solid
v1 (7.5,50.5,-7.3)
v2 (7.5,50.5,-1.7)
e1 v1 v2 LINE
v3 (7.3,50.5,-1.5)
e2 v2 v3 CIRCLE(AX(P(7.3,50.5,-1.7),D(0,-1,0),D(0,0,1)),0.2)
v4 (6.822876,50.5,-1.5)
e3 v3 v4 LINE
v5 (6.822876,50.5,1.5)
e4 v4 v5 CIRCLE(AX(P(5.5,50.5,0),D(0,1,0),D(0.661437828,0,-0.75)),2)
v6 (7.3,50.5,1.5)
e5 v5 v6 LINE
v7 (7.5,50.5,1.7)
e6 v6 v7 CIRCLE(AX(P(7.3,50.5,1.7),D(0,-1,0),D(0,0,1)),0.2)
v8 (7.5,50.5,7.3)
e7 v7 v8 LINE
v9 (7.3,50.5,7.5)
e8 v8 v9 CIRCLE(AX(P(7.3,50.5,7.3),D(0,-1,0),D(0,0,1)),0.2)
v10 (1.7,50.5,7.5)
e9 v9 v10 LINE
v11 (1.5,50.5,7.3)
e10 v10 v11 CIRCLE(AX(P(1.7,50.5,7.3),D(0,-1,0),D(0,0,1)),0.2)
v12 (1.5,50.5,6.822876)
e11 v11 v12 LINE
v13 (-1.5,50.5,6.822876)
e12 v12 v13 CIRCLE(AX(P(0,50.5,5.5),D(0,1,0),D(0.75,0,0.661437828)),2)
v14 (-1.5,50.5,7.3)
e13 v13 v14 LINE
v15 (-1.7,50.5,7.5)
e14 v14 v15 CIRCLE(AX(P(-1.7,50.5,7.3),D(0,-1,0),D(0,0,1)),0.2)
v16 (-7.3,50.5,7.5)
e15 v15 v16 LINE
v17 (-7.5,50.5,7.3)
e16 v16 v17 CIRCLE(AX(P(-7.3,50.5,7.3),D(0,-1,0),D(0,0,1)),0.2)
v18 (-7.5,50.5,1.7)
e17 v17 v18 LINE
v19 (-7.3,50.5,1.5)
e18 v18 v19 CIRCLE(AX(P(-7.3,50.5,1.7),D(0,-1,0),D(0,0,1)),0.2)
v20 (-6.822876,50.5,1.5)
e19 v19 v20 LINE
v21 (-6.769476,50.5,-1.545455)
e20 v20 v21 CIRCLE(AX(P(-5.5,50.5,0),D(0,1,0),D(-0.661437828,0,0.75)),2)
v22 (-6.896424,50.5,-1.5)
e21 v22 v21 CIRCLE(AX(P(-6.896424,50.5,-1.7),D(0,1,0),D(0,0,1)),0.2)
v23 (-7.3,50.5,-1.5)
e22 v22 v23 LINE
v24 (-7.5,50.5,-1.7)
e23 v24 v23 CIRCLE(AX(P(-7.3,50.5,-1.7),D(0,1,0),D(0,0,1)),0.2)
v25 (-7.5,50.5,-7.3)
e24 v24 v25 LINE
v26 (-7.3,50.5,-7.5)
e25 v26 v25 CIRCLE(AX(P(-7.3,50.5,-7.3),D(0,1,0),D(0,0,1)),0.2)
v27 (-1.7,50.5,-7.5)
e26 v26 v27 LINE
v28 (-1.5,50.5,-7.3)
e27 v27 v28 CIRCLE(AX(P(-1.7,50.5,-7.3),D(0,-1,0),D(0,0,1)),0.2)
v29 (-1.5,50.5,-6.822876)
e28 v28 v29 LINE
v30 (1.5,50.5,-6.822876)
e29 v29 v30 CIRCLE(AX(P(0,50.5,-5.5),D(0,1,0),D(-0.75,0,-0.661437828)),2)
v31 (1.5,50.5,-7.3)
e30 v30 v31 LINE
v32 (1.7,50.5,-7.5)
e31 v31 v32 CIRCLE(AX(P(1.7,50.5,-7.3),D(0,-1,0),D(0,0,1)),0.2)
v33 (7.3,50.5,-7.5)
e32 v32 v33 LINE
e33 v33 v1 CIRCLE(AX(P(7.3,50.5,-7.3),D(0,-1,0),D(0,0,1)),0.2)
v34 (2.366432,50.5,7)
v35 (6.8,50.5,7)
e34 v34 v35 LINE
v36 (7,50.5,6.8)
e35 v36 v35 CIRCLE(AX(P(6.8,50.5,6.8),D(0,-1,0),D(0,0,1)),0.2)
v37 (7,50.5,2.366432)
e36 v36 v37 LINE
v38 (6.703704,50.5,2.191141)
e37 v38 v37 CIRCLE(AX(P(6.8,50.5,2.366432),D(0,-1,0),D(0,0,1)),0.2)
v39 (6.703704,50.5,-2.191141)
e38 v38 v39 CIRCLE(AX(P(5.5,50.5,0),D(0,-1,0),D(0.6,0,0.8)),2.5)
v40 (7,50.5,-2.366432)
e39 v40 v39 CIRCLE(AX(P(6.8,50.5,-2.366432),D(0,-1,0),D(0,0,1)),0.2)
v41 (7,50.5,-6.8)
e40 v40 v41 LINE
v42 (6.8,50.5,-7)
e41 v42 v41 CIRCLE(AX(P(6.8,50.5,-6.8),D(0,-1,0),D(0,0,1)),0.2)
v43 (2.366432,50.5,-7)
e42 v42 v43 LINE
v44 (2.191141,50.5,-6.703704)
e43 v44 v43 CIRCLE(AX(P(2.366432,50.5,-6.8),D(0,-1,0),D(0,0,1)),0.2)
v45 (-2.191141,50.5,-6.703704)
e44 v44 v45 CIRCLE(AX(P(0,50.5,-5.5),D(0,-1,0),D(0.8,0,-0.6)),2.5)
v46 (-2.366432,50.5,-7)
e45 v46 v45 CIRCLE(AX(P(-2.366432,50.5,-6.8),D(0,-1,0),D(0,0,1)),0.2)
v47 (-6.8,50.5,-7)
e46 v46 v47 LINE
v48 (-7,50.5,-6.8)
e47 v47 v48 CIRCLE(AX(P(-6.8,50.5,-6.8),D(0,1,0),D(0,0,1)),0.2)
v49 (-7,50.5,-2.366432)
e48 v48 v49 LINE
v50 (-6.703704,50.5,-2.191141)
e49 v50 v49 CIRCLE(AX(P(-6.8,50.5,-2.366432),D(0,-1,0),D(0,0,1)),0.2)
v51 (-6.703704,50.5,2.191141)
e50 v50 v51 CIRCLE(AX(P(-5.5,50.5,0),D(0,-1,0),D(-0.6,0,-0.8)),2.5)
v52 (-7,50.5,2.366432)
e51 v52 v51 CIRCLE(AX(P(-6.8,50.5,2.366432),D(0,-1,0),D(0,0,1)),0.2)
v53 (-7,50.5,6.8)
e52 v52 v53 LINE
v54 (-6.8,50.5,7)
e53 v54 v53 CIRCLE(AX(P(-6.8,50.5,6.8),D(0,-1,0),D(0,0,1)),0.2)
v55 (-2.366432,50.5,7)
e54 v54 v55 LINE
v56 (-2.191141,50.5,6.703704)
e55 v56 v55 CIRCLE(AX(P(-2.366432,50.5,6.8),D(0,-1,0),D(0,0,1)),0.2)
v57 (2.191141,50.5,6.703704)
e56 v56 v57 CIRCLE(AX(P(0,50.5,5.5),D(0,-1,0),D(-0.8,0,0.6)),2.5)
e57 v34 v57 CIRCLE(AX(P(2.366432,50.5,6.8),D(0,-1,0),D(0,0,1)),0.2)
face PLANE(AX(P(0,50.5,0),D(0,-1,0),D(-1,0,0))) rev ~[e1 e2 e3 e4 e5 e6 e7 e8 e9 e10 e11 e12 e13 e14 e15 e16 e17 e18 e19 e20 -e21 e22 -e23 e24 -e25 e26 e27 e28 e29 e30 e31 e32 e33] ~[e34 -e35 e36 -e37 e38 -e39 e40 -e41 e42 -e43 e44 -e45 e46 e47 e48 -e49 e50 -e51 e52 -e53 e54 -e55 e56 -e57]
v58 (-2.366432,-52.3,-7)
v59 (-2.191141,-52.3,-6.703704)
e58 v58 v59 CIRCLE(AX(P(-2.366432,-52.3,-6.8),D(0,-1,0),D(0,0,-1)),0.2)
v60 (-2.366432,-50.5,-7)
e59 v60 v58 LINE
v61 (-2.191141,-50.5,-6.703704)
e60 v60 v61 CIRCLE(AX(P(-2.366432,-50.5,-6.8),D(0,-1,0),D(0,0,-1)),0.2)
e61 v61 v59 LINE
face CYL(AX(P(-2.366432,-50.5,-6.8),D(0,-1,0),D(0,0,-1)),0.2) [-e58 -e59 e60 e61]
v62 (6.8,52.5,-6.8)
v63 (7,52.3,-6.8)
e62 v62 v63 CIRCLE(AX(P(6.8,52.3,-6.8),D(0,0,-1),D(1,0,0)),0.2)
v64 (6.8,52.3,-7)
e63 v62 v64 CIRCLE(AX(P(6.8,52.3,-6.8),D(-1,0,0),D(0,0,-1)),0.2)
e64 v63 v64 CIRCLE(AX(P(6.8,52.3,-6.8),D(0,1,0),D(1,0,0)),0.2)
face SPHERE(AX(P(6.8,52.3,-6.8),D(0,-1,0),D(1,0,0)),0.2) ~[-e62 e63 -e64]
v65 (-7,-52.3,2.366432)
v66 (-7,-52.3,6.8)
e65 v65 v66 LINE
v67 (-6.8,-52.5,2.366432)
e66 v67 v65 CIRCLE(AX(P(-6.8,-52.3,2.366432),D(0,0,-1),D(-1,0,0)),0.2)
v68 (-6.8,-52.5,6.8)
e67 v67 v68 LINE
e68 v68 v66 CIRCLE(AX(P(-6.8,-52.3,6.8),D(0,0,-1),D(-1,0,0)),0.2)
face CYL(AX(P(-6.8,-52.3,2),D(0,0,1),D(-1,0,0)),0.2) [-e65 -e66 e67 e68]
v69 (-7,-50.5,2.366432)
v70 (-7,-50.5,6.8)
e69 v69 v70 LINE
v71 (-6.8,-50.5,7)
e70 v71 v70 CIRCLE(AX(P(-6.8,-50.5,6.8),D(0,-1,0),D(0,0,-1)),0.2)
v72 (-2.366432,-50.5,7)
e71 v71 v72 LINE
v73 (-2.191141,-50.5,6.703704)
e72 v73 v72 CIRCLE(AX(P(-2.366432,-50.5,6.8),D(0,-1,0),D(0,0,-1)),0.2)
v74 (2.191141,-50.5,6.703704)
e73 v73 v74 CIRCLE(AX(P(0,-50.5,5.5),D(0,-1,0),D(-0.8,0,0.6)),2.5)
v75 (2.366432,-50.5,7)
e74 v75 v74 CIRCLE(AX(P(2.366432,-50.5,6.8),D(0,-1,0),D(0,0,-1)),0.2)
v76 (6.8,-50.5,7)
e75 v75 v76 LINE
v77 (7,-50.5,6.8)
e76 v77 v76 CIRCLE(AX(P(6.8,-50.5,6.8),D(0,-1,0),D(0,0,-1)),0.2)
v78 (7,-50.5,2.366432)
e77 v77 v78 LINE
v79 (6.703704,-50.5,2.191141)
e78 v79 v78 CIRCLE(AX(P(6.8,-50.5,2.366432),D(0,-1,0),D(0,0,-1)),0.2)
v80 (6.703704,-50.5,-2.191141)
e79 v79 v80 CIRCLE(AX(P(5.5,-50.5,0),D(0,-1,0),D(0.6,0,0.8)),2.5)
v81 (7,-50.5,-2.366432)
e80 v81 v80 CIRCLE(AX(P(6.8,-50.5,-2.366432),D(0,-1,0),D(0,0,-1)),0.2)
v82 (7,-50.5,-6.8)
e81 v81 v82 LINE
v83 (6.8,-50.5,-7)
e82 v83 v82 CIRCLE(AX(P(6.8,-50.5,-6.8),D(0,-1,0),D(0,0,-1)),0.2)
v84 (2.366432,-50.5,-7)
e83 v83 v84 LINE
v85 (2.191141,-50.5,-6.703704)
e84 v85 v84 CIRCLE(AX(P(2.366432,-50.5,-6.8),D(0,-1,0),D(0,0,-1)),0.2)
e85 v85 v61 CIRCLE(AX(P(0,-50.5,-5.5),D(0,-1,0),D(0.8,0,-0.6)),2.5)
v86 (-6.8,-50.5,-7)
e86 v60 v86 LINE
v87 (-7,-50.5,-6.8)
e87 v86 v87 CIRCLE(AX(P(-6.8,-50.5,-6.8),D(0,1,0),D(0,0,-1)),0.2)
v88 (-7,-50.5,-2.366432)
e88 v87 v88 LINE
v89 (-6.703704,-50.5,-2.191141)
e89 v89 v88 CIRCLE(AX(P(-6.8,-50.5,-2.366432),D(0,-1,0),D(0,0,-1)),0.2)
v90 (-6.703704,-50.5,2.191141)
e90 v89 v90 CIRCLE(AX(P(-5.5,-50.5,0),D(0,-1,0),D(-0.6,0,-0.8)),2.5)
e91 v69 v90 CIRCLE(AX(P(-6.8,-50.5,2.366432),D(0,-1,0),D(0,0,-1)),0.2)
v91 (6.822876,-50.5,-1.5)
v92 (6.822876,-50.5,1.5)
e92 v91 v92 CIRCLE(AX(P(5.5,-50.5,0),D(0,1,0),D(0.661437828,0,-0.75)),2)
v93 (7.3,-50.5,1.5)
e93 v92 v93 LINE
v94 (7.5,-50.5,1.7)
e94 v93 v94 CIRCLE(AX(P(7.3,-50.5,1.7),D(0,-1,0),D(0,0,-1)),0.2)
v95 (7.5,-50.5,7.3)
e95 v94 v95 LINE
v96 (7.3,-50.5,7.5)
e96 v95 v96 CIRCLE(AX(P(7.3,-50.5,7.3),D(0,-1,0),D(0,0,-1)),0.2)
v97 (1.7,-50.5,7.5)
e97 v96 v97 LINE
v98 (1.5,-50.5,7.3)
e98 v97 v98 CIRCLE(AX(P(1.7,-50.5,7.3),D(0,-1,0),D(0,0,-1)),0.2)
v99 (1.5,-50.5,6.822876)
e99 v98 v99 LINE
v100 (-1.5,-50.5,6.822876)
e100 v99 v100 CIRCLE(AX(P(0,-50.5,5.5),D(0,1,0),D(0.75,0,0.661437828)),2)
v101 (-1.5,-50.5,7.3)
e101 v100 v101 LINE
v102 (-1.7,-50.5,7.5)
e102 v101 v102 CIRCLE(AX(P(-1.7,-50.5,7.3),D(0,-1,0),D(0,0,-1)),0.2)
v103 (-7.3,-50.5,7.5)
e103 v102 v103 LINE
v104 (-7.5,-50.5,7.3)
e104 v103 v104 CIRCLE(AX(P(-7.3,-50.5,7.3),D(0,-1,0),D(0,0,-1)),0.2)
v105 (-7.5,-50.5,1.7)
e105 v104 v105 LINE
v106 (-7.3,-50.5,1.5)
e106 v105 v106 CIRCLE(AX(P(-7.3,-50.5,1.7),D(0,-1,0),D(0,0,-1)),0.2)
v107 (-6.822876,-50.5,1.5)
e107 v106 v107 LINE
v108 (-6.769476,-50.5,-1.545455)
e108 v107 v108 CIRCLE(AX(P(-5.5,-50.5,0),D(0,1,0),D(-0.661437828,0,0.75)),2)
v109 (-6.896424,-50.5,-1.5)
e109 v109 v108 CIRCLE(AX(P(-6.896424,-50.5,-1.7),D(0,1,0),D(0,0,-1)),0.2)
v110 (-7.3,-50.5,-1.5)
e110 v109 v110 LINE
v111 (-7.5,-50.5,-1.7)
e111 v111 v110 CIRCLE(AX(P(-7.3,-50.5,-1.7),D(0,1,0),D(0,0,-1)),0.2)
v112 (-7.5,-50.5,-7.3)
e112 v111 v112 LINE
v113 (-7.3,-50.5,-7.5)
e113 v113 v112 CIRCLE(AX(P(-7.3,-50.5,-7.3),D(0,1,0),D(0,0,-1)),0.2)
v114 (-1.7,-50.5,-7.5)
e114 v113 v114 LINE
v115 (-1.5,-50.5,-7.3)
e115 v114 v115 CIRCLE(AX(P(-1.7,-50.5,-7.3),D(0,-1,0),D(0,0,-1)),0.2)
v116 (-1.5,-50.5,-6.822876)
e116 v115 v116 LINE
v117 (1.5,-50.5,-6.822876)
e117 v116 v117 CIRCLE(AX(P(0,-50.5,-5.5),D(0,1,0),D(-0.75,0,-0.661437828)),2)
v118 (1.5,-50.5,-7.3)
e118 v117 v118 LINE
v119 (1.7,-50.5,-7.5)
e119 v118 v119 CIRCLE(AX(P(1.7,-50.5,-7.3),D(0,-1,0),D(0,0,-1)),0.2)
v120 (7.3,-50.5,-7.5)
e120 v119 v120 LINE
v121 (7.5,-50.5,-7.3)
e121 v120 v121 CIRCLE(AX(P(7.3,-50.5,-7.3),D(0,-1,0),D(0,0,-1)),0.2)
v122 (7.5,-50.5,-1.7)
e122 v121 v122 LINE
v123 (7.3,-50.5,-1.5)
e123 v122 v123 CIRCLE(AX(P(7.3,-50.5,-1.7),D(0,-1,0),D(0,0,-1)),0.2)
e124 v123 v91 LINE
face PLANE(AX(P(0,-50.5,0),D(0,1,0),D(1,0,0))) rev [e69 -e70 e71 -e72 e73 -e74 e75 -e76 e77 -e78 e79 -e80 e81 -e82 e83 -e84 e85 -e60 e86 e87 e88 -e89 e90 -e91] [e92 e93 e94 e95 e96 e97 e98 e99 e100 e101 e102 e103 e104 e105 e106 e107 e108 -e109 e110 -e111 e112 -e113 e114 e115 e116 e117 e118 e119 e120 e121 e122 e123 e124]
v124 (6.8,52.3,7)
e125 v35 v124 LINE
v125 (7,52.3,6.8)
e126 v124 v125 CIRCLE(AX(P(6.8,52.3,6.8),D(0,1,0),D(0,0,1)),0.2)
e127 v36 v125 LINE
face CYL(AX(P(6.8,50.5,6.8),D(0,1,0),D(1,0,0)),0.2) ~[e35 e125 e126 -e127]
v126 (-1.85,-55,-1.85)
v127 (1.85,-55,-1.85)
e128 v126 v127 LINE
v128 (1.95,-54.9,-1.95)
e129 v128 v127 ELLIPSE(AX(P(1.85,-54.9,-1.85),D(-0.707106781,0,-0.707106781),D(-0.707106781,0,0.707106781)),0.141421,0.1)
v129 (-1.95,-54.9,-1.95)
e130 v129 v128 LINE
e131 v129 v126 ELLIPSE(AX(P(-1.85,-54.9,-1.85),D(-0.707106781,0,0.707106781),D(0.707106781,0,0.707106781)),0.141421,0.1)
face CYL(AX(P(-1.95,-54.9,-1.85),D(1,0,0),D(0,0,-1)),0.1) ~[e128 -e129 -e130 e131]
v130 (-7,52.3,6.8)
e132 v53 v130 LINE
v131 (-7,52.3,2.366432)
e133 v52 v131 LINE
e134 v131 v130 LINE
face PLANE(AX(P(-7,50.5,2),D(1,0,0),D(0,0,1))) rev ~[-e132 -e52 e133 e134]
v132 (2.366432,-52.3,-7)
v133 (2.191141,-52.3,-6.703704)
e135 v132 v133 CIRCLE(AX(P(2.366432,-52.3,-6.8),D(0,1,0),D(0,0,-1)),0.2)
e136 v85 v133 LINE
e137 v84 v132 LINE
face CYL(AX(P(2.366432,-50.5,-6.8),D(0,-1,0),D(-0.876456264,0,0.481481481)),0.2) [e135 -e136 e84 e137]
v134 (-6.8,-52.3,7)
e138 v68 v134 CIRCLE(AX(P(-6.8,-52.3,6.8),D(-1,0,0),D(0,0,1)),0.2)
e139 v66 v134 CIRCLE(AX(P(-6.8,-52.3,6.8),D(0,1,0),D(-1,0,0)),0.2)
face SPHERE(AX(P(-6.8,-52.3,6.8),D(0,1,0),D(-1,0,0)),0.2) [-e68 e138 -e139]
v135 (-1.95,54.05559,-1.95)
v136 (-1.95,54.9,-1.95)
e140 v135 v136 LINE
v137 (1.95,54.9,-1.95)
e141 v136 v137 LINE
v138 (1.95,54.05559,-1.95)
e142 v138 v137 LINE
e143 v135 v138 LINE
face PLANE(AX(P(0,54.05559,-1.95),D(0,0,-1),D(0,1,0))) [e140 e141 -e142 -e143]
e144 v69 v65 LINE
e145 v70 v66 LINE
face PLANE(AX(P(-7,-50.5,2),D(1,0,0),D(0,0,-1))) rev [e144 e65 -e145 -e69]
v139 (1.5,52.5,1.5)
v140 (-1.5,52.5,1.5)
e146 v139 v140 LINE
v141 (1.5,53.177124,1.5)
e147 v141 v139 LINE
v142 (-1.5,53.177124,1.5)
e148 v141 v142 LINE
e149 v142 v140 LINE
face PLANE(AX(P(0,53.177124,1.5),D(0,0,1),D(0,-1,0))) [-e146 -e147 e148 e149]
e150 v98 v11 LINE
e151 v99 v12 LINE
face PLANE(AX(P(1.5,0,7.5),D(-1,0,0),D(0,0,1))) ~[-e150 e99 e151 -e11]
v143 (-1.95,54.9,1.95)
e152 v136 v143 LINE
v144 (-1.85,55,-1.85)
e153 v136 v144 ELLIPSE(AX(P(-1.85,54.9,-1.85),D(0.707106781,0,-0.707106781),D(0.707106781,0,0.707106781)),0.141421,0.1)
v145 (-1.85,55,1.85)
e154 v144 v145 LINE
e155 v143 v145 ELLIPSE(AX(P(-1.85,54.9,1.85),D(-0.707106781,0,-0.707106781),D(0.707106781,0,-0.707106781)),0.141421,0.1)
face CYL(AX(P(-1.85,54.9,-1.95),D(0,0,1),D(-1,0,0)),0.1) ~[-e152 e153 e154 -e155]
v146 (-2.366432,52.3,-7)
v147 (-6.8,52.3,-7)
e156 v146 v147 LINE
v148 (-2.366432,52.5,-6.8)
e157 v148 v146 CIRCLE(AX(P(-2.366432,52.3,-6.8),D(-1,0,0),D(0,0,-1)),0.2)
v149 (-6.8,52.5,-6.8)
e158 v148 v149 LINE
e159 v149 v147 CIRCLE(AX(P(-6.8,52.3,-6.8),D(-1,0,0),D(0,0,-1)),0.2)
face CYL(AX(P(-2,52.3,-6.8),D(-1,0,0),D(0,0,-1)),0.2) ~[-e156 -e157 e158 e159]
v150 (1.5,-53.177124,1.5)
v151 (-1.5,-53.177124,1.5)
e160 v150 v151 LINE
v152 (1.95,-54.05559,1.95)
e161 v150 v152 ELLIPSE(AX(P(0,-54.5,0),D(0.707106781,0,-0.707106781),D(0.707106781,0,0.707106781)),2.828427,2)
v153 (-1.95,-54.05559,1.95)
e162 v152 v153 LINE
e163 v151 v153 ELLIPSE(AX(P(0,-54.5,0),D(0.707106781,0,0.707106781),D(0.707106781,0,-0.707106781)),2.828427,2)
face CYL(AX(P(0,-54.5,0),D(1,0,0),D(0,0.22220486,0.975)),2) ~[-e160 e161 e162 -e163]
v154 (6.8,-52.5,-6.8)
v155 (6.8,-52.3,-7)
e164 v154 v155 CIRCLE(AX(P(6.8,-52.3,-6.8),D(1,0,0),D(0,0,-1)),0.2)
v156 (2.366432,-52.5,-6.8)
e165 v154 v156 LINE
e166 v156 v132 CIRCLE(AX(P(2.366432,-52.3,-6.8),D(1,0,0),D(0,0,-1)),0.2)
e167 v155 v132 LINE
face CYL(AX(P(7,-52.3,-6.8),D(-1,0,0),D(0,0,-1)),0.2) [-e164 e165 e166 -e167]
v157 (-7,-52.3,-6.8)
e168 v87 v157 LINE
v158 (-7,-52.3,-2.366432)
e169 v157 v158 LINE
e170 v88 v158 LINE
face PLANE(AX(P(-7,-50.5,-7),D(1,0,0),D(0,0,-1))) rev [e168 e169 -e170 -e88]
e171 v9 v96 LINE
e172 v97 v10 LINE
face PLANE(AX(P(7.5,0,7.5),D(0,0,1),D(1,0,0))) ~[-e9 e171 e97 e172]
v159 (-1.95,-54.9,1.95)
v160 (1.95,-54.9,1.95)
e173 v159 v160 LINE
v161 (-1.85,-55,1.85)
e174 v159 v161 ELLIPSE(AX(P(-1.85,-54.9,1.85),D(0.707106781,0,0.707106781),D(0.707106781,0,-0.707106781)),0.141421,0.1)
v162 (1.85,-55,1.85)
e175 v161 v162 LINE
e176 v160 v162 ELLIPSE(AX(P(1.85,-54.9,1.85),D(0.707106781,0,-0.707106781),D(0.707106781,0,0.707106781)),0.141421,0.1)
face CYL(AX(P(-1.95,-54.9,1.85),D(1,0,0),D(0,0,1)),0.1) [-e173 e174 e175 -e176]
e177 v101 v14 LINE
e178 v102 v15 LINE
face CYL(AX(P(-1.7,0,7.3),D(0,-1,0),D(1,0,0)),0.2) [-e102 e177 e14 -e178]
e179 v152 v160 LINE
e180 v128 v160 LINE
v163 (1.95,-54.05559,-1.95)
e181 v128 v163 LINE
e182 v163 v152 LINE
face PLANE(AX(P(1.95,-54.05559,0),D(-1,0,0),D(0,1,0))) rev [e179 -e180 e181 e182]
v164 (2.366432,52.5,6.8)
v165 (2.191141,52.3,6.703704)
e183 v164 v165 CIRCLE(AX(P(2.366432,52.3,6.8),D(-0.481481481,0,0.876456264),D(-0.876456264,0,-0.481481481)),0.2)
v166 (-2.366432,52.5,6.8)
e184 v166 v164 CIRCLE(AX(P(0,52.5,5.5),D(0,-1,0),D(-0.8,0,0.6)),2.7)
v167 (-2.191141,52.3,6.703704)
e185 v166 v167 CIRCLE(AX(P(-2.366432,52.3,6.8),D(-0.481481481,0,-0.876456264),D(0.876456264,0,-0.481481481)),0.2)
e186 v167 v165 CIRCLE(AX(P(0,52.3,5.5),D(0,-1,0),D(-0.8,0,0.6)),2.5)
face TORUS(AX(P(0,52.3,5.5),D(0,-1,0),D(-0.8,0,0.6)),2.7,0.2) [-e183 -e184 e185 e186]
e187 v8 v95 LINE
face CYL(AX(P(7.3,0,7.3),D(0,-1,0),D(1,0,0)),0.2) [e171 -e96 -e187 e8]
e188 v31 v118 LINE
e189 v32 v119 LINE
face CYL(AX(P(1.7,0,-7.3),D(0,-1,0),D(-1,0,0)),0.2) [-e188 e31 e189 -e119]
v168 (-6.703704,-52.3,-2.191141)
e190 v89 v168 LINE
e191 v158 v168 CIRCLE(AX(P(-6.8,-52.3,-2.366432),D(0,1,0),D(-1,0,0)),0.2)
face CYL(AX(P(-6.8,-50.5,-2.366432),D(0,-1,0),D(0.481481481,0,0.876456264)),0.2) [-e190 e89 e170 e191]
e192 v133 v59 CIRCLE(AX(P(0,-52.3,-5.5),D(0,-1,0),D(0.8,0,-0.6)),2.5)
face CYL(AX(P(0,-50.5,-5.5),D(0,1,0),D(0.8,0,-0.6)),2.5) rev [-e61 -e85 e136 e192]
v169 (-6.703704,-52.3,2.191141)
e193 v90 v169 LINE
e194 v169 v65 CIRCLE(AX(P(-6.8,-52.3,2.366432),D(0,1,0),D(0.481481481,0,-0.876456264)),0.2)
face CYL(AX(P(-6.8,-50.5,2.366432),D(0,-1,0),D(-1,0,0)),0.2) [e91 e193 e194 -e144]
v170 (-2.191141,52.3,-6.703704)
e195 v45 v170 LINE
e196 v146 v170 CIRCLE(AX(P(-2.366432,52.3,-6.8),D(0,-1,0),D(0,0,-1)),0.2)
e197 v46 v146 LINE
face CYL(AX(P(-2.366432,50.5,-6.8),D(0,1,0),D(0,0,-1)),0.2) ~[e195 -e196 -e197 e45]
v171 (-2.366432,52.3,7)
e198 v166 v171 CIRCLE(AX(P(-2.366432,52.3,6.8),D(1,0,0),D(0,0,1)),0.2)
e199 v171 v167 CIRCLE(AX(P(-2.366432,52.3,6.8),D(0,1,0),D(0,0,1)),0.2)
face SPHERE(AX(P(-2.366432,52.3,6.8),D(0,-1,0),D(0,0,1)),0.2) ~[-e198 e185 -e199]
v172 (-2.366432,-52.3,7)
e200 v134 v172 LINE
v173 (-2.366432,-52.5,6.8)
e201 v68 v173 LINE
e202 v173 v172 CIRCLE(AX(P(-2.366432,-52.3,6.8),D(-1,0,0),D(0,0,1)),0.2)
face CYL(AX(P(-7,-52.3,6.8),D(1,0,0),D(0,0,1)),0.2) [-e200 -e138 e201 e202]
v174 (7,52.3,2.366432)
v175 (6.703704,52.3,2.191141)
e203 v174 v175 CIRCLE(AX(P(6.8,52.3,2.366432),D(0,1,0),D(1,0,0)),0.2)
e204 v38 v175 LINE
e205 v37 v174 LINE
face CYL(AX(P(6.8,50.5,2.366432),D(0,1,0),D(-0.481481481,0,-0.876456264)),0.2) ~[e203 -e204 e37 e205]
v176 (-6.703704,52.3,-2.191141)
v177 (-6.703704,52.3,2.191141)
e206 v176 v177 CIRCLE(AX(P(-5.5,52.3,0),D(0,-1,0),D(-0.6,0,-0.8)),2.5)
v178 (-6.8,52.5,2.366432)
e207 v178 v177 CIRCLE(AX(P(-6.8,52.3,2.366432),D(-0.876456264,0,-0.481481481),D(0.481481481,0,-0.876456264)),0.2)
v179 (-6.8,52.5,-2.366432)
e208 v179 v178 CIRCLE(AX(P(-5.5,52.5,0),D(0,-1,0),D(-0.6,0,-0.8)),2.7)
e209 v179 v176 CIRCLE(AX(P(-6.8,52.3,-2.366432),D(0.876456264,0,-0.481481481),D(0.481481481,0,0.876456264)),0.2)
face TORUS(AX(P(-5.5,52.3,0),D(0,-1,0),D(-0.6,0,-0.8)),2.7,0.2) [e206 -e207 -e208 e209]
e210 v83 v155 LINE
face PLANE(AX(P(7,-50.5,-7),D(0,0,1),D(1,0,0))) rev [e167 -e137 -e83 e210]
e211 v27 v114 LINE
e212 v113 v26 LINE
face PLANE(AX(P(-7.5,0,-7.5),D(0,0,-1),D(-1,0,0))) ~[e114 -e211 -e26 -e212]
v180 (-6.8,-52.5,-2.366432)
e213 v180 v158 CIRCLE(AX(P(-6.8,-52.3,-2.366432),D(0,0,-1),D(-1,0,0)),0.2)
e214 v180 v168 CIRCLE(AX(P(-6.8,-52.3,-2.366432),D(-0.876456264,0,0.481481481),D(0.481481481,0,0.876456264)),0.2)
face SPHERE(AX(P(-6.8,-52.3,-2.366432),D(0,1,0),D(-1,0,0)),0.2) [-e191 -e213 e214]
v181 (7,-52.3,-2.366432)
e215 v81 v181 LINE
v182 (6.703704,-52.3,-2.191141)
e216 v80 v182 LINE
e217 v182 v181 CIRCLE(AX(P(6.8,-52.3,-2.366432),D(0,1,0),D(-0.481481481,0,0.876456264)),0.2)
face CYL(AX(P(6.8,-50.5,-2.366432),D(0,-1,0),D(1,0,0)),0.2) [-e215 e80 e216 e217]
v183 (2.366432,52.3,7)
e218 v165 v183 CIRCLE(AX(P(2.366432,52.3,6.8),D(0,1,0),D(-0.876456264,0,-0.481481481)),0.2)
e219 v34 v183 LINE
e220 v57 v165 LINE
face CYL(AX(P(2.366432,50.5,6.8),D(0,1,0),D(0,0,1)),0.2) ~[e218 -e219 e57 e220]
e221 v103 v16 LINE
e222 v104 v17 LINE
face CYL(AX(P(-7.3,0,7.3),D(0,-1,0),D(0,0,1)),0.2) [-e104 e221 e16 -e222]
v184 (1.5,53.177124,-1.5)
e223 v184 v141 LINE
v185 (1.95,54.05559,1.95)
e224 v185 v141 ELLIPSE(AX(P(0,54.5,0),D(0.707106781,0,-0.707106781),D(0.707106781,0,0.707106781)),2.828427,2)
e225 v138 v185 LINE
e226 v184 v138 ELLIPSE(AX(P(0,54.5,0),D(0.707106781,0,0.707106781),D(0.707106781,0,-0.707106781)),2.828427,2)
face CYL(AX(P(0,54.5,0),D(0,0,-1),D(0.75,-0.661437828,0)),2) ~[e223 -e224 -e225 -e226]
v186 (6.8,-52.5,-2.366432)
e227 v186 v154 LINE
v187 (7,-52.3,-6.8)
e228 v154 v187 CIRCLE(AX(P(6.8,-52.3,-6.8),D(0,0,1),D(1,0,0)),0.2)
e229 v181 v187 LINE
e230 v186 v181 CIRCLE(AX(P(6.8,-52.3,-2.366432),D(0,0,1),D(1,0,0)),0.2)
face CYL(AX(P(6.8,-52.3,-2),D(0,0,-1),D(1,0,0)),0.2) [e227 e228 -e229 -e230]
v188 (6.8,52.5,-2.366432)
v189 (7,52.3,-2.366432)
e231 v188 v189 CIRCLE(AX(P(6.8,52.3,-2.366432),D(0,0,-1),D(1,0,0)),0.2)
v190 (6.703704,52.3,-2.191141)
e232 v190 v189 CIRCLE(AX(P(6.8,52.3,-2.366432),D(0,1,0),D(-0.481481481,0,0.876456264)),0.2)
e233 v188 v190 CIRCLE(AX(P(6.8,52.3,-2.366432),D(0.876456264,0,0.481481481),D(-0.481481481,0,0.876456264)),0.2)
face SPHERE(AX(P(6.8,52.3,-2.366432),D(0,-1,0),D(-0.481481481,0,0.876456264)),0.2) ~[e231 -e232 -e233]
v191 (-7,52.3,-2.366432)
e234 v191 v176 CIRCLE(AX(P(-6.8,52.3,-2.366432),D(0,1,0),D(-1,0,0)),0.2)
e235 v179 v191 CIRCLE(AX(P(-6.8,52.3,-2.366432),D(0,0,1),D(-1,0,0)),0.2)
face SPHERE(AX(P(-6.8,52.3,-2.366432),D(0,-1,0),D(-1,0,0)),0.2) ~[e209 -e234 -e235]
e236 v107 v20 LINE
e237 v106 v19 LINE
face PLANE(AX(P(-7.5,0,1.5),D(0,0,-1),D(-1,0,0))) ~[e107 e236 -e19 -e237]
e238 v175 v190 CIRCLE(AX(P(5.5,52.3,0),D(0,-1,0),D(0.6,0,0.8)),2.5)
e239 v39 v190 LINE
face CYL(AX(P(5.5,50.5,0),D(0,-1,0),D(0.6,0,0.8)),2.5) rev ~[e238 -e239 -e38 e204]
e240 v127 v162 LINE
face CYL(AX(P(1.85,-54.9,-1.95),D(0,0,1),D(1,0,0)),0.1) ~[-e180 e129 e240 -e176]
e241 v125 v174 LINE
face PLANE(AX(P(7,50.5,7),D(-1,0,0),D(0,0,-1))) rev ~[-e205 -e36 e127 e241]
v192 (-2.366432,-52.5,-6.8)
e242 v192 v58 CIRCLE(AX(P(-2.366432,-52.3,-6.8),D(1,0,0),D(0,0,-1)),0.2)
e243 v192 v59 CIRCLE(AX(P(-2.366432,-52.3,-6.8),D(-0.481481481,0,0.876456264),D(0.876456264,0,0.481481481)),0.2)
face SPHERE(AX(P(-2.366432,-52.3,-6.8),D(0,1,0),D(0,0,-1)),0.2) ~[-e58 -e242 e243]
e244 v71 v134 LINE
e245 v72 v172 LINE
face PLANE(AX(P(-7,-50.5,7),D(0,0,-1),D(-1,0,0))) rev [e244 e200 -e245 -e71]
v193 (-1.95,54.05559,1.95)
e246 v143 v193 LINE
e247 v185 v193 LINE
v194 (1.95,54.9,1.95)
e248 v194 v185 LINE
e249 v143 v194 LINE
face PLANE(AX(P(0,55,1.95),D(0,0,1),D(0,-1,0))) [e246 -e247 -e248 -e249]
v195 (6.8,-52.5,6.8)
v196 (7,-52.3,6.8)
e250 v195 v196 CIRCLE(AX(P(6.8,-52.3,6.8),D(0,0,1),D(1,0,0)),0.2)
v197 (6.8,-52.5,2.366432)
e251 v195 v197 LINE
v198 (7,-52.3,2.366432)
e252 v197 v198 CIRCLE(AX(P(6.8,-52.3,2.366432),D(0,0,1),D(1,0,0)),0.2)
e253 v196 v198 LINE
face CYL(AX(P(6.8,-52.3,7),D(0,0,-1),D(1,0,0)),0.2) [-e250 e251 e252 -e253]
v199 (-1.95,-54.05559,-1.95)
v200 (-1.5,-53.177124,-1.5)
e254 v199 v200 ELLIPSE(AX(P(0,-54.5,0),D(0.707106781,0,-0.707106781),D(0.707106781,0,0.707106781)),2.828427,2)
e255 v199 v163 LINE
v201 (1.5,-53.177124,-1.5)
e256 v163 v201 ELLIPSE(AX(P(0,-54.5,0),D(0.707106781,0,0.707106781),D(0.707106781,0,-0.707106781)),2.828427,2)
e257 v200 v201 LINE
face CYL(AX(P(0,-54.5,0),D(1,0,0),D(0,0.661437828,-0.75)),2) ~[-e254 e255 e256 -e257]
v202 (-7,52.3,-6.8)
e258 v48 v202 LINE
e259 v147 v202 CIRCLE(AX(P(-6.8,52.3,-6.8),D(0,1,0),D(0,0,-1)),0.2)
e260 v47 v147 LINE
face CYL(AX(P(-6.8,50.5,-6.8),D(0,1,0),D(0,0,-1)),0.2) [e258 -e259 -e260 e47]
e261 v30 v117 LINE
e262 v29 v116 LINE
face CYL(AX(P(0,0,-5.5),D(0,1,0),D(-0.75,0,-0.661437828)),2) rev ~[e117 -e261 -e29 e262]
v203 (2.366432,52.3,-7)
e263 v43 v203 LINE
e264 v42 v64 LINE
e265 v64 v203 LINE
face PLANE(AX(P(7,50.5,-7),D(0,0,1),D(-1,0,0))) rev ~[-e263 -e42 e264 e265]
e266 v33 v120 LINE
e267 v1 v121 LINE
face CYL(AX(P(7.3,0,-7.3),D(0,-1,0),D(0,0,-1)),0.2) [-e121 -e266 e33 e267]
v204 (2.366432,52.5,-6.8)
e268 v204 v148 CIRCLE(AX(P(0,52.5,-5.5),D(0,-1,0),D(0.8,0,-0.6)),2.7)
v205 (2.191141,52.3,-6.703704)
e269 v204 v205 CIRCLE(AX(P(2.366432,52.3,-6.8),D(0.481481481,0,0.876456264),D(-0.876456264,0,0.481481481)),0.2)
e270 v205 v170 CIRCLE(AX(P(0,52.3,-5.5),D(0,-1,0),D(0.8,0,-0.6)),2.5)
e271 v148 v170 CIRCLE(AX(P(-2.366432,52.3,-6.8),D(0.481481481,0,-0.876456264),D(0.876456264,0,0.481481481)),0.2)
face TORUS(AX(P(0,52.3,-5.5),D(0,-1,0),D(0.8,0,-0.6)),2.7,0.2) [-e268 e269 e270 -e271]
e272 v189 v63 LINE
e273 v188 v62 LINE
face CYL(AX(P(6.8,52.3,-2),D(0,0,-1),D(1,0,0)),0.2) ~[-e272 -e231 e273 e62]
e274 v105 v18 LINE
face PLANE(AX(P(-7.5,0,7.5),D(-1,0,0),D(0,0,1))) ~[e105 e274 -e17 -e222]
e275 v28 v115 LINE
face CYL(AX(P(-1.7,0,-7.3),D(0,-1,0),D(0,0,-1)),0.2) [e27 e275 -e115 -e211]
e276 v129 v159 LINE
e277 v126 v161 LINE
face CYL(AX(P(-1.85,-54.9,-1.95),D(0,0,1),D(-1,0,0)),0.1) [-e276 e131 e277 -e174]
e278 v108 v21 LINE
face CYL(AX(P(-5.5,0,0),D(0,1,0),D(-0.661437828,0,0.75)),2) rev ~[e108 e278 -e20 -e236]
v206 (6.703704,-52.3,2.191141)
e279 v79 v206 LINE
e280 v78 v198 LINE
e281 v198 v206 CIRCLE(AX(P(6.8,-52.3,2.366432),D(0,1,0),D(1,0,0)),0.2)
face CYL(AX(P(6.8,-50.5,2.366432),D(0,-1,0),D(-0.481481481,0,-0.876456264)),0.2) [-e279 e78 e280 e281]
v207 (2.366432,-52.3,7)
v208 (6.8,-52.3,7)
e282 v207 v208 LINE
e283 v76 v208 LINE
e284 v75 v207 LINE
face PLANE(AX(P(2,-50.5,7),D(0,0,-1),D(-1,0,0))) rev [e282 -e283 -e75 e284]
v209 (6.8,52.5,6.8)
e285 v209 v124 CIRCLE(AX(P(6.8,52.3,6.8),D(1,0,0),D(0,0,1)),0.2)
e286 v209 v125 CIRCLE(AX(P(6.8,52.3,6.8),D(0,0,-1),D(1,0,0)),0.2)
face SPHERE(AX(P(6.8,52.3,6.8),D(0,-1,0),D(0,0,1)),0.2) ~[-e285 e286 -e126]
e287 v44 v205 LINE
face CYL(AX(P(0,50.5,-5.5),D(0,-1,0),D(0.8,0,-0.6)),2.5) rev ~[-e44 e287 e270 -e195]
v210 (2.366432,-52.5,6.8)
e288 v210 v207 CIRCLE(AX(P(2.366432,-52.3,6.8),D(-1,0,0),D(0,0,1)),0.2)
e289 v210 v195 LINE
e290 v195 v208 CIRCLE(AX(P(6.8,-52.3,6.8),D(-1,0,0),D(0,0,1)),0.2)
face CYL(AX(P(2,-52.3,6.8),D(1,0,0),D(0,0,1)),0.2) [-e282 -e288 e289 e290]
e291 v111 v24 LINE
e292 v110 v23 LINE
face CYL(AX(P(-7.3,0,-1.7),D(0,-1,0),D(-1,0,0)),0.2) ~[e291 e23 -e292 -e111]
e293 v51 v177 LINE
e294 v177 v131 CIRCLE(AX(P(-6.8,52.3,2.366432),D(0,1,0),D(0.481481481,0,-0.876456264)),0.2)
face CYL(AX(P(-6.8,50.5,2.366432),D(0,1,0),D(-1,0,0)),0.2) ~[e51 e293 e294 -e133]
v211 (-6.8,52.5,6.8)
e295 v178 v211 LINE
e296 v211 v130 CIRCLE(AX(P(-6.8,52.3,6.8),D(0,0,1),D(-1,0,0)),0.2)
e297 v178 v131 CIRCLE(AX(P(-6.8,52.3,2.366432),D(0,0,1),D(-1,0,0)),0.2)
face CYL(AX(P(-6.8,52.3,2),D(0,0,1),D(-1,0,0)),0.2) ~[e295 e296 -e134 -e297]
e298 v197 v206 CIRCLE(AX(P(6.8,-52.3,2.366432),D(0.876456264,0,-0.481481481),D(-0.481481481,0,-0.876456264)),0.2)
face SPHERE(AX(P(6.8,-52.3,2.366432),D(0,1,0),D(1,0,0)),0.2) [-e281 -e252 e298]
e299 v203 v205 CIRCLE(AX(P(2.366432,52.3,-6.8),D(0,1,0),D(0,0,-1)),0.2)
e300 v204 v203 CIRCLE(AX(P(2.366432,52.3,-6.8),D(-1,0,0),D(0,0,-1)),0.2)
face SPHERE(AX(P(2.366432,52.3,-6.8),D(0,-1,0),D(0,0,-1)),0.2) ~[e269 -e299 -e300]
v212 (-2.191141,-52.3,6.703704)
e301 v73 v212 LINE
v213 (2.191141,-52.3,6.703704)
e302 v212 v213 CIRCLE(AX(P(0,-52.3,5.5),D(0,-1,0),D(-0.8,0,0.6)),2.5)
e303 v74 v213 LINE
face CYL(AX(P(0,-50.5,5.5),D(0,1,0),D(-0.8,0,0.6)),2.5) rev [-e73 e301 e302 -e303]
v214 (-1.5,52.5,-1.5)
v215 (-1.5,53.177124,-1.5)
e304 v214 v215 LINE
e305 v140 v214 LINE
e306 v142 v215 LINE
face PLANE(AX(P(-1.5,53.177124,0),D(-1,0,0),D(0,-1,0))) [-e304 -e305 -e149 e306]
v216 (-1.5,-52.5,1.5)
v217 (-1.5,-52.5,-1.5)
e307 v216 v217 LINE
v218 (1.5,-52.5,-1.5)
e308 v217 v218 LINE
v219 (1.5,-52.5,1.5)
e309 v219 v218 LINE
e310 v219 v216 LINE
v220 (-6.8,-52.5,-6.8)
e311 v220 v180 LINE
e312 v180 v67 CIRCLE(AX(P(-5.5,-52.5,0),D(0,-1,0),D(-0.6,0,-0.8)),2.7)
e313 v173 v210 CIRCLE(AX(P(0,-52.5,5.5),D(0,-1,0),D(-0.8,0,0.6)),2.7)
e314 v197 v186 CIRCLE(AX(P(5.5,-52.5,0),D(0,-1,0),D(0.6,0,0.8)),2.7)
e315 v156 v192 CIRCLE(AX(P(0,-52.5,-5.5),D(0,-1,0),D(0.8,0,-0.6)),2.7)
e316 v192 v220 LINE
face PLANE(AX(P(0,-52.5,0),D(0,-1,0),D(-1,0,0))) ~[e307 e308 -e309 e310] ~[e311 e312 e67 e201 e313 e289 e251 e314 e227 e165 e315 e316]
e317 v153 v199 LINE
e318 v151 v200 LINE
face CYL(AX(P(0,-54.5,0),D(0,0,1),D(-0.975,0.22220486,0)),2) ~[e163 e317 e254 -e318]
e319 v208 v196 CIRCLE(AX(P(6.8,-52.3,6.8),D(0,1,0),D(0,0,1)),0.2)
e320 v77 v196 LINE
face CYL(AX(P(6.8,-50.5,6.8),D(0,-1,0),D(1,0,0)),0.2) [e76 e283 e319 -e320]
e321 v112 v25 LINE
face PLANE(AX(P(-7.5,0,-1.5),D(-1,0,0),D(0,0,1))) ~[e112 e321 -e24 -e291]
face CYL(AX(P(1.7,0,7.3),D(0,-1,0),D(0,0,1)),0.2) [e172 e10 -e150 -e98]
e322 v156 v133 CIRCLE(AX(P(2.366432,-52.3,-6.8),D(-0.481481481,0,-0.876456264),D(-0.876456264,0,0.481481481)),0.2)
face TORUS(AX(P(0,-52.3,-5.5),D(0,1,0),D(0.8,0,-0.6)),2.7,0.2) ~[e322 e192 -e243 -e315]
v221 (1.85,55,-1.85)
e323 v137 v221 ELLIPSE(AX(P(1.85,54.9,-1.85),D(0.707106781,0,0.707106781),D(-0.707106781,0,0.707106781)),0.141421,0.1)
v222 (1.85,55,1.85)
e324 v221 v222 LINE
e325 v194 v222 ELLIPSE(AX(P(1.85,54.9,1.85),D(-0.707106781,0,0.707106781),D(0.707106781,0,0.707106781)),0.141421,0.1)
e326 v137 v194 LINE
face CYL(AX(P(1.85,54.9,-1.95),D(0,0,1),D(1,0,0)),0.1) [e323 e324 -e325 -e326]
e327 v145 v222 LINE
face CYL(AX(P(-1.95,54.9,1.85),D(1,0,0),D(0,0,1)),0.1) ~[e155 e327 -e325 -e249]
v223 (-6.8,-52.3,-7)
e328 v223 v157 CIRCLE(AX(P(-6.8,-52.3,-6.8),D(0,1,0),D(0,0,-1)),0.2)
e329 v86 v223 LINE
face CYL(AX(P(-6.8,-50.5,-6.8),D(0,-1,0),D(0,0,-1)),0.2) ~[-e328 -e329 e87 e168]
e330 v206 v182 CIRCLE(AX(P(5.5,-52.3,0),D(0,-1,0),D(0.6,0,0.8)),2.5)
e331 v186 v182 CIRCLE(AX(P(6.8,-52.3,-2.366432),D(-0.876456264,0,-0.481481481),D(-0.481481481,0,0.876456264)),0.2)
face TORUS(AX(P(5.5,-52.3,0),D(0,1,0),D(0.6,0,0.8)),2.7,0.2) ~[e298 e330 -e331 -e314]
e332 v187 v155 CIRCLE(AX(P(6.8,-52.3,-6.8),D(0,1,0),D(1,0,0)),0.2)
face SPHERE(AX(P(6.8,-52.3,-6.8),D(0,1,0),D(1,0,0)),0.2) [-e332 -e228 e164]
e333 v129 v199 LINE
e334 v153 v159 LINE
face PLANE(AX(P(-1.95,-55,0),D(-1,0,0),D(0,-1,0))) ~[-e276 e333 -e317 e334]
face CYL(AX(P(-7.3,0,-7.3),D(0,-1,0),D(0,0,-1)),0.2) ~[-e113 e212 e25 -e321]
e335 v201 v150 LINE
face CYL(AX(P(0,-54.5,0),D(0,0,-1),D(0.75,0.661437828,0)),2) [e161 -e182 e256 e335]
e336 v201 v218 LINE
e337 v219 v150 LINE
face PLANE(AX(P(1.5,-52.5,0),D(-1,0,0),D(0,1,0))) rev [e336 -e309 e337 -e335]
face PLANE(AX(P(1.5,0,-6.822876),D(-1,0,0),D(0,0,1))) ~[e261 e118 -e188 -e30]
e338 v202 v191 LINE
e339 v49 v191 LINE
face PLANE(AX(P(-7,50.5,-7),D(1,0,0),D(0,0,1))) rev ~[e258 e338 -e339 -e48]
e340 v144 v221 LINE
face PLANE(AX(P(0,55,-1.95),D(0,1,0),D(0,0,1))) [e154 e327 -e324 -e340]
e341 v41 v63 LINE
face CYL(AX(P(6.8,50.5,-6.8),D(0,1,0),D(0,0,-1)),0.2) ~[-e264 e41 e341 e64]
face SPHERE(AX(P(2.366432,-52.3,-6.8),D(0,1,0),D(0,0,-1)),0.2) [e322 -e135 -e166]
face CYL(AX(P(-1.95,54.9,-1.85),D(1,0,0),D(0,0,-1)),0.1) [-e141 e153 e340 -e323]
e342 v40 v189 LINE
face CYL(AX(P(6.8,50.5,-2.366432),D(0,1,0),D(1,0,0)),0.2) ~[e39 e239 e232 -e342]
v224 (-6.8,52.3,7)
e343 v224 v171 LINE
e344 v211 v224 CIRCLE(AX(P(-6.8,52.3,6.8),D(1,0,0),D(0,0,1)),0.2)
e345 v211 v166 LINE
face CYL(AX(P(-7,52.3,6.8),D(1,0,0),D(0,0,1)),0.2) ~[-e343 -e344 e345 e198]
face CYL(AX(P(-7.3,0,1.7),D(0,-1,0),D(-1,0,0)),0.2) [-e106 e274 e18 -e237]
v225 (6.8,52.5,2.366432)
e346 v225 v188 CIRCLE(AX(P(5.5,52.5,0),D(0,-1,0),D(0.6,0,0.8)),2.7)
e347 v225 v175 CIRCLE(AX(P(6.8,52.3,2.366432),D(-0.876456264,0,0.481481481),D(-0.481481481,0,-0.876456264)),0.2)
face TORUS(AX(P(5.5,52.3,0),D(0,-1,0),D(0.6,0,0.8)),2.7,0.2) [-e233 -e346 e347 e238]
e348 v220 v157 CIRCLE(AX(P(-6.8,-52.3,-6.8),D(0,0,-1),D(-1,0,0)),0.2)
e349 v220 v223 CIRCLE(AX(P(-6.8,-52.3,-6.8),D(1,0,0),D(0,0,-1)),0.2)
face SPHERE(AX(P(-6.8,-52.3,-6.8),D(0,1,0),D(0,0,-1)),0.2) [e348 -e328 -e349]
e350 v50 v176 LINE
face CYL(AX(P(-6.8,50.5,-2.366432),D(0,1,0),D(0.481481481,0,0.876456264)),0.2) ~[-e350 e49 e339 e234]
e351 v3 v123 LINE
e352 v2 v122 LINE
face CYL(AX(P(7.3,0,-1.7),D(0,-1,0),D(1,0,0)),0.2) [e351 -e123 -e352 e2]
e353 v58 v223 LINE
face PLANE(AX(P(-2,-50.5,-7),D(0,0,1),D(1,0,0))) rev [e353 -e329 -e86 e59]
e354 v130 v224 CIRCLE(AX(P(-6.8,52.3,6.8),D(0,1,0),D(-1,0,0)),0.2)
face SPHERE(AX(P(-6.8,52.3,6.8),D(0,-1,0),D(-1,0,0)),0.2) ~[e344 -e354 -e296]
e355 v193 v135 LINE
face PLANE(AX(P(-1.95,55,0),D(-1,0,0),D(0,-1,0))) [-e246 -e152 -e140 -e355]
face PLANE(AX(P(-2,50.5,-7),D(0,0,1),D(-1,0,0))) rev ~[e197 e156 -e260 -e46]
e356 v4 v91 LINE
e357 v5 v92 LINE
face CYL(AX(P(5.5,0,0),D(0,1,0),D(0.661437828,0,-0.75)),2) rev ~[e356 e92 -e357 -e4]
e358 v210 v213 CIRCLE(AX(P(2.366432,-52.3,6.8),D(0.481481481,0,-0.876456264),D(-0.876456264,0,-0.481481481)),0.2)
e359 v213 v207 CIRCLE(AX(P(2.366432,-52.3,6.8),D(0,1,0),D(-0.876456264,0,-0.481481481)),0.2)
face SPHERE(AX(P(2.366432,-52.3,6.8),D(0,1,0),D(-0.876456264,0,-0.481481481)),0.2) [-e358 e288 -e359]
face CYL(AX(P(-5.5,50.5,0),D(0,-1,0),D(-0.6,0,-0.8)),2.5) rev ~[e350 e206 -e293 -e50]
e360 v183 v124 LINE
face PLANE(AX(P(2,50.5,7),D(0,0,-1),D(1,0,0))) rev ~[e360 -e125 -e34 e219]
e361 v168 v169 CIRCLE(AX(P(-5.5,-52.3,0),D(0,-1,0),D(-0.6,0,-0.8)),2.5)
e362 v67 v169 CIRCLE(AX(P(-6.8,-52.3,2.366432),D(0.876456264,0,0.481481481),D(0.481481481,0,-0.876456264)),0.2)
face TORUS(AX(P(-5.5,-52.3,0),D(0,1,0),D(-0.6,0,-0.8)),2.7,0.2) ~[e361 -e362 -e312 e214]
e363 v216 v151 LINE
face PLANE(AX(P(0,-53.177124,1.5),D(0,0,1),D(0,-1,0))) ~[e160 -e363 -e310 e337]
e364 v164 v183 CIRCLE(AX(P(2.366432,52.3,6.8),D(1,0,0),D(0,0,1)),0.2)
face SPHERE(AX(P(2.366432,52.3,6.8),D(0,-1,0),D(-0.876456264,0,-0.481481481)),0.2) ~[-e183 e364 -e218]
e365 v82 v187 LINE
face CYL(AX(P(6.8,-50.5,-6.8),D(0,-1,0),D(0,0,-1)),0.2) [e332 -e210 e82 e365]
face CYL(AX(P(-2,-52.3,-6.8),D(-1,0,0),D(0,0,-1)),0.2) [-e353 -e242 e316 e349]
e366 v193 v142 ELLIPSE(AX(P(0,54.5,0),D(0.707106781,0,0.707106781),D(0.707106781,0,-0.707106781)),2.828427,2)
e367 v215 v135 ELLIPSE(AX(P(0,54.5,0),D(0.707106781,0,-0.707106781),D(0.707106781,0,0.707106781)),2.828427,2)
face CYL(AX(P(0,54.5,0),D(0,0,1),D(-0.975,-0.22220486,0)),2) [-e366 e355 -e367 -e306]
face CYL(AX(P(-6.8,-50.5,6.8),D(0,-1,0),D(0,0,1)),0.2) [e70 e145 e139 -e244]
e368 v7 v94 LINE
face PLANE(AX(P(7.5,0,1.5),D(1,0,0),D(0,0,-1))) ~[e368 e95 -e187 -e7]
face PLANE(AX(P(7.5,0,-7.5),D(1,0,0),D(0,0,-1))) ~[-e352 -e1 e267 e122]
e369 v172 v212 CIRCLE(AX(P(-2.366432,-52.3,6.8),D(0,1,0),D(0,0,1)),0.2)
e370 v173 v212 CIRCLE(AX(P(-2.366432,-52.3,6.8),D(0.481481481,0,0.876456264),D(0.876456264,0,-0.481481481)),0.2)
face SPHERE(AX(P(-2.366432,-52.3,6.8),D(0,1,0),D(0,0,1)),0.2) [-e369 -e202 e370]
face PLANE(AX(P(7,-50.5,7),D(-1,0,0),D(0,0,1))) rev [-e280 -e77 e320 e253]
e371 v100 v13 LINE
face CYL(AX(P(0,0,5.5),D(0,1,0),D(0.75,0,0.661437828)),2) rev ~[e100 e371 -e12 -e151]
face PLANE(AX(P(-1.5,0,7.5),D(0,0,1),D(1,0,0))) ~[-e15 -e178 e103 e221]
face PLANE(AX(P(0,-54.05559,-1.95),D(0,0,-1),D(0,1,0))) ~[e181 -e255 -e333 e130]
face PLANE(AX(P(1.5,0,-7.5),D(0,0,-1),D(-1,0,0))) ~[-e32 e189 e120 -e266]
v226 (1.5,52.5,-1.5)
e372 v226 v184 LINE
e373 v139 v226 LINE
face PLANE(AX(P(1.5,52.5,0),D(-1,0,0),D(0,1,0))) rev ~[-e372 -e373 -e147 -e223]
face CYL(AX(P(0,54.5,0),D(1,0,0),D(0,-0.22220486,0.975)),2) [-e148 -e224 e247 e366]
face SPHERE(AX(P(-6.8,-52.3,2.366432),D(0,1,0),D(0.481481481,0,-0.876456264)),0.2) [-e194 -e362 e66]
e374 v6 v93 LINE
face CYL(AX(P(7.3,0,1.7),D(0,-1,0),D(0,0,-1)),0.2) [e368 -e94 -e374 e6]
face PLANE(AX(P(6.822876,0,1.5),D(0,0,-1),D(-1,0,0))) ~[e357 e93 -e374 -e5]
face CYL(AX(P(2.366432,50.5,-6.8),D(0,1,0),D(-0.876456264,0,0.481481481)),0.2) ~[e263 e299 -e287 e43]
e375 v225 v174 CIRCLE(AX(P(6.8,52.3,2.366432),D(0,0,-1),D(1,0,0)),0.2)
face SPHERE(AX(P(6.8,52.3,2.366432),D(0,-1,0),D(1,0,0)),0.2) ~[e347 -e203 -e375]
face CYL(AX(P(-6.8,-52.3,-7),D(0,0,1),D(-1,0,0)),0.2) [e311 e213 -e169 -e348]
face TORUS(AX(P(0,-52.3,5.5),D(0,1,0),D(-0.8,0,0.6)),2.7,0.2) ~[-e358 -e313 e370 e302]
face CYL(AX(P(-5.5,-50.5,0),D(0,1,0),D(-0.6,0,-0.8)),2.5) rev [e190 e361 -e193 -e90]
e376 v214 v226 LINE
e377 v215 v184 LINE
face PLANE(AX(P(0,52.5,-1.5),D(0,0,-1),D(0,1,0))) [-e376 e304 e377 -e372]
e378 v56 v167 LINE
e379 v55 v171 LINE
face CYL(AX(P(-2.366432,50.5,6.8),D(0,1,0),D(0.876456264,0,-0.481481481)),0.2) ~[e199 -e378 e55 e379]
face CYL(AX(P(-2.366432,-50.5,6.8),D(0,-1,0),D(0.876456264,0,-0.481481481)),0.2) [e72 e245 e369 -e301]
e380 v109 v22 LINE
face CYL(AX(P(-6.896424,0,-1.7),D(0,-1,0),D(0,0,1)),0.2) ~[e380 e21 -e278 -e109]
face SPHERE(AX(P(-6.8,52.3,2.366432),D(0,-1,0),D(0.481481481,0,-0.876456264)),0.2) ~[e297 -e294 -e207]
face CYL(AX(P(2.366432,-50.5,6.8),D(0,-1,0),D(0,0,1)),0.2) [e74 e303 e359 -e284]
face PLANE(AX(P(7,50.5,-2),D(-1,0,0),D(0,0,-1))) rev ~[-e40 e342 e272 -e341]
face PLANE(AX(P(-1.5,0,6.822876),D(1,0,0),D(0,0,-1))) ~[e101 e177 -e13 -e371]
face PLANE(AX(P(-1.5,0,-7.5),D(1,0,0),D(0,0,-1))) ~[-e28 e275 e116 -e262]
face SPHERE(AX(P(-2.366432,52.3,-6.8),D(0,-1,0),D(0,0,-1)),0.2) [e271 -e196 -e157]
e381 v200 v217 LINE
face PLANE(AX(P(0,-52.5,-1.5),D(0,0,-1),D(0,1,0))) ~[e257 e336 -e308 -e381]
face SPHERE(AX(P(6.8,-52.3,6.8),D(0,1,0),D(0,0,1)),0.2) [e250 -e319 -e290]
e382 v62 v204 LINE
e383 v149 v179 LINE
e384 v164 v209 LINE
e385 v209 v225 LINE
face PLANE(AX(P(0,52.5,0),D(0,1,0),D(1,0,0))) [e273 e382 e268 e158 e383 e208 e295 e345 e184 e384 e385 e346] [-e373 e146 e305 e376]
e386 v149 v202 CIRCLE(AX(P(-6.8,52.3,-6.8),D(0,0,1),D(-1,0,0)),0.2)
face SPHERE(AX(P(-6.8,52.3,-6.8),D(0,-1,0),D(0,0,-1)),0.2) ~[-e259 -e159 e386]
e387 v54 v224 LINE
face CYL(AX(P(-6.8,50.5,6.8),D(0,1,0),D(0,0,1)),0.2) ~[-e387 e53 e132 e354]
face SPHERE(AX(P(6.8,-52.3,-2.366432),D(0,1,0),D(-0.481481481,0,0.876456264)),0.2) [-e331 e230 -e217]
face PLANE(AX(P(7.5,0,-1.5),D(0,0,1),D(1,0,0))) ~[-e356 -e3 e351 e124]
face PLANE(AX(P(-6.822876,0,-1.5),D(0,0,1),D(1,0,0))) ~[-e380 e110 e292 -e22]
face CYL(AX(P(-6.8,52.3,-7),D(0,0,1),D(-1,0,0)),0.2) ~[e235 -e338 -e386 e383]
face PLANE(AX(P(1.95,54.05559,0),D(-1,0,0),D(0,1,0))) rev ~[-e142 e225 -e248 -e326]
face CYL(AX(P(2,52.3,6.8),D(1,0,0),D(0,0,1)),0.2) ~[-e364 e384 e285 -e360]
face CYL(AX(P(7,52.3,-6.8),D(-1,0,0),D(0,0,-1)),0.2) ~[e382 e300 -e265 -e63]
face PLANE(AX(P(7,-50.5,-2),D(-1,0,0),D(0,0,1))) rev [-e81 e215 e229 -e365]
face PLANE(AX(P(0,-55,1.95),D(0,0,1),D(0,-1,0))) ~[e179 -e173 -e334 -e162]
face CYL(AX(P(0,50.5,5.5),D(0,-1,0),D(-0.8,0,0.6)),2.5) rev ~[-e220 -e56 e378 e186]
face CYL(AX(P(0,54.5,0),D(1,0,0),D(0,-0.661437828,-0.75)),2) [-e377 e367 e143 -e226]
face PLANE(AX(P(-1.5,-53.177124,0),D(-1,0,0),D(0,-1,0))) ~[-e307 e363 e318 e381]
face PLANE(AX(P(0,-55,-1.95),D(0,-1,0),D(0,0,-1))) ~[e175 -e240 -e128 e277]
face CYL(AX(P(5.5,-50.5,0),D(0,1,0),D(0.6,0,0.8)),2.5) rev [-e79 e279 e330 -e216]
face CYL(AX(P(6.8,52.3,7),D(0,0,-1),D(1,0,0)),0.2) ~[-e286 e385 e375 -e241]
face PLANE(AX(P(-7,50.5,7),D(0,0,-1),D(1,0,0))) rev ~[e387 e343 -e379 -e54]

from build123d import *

# Parameters (mm, degrees)
EXTRUDE_1_DEPTH        = 50.5
EXTRUDE_2_DEPTH        = 2
EXTRUDE_3_DEPTH        = 2
FILLET_3_R             = 0.2
CUT_EXTRUDE_1_DEPTH    = 3
FILLET_4_R             = 0.2
FILLET_5_R             = 0.1
FILLET_3_OF_MIRROR_1_R = 0.2
FILLET_4_OF_MIRROR_1_R = 0.2
FILLET_5_OF_MIRROR_1_R = 0.1


with BuildPart() as part:
    # 草图1 → 凸台-拉伸1 (new body)
    with BuildSketch(Plane(origin=(0, 0, 0), x_dir=(1, 0, 0), z_dir=(0, 1, 0))):
        with BuildLine():
            Line((-7.5, 7.5), (-1.5, 7.5))
            Line((-1.5, 7.5), (-1.5, 6.822875656))
            ThreePointArc((-1.5, 6.822875656), (0, 3.5), (1.5, 6.822875656))
            Line((1.5, 6.822875656), (1.5, 7.5))
            Line((1.5, 7.5), (7.5, 7.5))
            Line((7.5, 7.5), (7.5, 1.5))
            Line((7.5, 1.5), (6.822875656, 1.5))
            ThreePointArc((6.822875656, 1.5), (3.5, 0), (6.822875656, -1.5))
            Line((6.822875656, -1.5), (7.5, -1.5))
            Line((7.5, -1.5), (7.5, -7.5))
            Line((7.5, -7.5), (1.5, -7.5))
            Line((1.5, -7.5), (1.5, -6.822875656))
            ThreePointArc((1.5, -6.822875656), (0, -3.5), (-1.5, -6.822875656))
            Line((-1.5, -6.822875656), (-1.5, -7.5))
            Line((-1.5, -7.5), (-7.5, -7.5))
            Line((-7.5, -7.5), (-7.5, -1.5))
            Line((-7.5, -1.5), (-6.822875656, -1.5))
            ThreePointArc((-6.822875656, -1.5), (-3.5, 0), (-6.822875656, 1.5))
            Line((-6.822875656, 1.5), (-7.5, 1.5))
            Line((-7.5, 1.5), (-7.5, 7.5))
        make_face()
    extrude_1 = extrude(amount=EXTRUDE_1_DEPTH)

    # 草图2 → 凸台-拉伸2 (add)
    with BuildSketch(Plane(origin=(0, 50.5, 0), x_dir=(1, 0, 0), z_dir=(0, 1, 0))):
        with BuildLine():
            Line((-7, 7), (-7, 2))
            ThreePointArc((-7, 2), (-3, 0), (-7, -2))
            Line((-7, -2), (-7, -7))
            Line((-7, -7), (-2, -7))
            ThreePointArc((-2, -7), (0, -3), (2, -7))
            Line((2, -7), (7, -7))
            Line((7, -7), (7, -2))
            ThreePointArc((7, -2), (3, 0), (7, 2))
            Line((7, 2), (7, 7))
            Line((7, 7), (2, 7))
            ThreePointArc((2, 7), (0, 3), (-2, 7))
            Line((-2, 7), (-7, 7))
        make_face()
    extrude_2 = extrude(amount=EXTRUDE_2_DEPTH)

    # 草图3 → 凸台-拉伸3 (add, symmetric)
    with BuildSketch(Plane(origin=(0, 0, 0), x_dir=(0, 0, -1), z_dir=(1, 0, 0))):
        with BuildLine():
            Line((-1.5, 52.5), (1.5, 52.5))
            Line((1.5, 52.5), (1.5, 53.177124344))
            ThreePointArc((1.5, 53.177124344), (1.780042303, 53.588161527), (1.95, 54.055590279))
            Line((1.95, 54.055590279), (1.95, 55))
            Line((1.95, 55), (-1.95, 55))
            Line((-1.95, 55), (-1.95, 54.055590279))
            ThreePointArc((-1.95, 54.055590279), (-1.780042303, 53.588161527), (-1.5, 53.177124344))
            Line((-1.5, 53.177124344), (-1.5, 52.5))
        make_face()
    extrude_3 = extrude(amount=EXTRUDE_3_DEPTH, both=True)

    # 圆角3
    fillet_3_edges = [part.edges().sort_by_distance(p)[0] for p in [
        (-7.5, 25.25, -7.5),
        (-1.5, 25.25, -7.5),
        (1.5, 25.25, -7.5),
        (7.5, 25.25, -7.5),
        (7.5, 25.25, -1.5),
        (7.5, 25.25, 1.5),
        (7.5, 25.25, 7.5),
        (1.5, 25.25, 7.5),
        (-1.5, 25.25, 7.5),
        (-7.5, 25.25, 7.5),
        (-7.5, 25.25, 1.5),
        (-6.822875656, 25.25, -1.5),
        (-7.5, 25.25, -1.5),
    ]]
    fillet(fillet_3_edges, radius=FILLET_3_R)

    # 草图4 → 切除-拉伸1 (cut, symmetric)
    with BuildSketch(Plane.XY):
        with BuildLine():
            Line((1.95, 55), (2, 55))
            Line((2, 55), (2, 52.5))
            Line((2, 52.5), (1.5, 52.5))
            Line((1.5, 52.5), (1.5, 53.177124344))
            ThreePointArc((1.5, 53.177124344), (1.780042303, 53.588161527), (1.95, 54.055590279))
            Line((1.95, 54.055590279), (1.95, 55))
        make_face()
        with BuildLine():
            Line((-1.95, 55), (-1.95, 54.055590279))
            ThreePointArc((-1.95, 54.055590279), (-1.780042303, 53.588161527), (-1.5, 53.177124344))
            Line((-1.5, 53.177124344), (-1.5, 52.5))
            Line((-1.5, 52.5), (-2, 52.5))
            Line((-2, 52.5), (-2, 55))
            Line((-2, 55), (-1.95, 55))
        make_face()
    cut_extrude_1 = extrude(amount=CUT_EXTRUDE_1_DEPTH, both=True, mode=Mode.SUBTRACT)

    # 圆角4
    fillet_4_edges = [part.edges().sort_by_distance(p)[0] for p in [
        (-2, 51.5, -7),
        (-7, 51.5, -7),
        (-7, 51.5, -2),
        (-7, 51.5, 2),
        (-7, 51.5, 7),
        (-2, 51.5, 7),
        (2, 51.5, 7),
        (7, 51.5, 7),
        (7, 51.5, 2),
        (7, 51.5, -2),
        (7, 51.5, -7),
        (2, 51.5, -7),
        (-4.5, 52.5, -7),
        (-7, 52.5, -4.5),
        (-3, 52.5, 0),
        (-7, 52.5, 4.5),
        (-4.5, 52.5, 7),
        (0, 52.5, 3),
        (4.5, 52.5, 7),
        (7, 52.5, 4.5),
        (3, 52.5, 0),
        (7, 52.5, -4.5),
        (4.5, 52.5, -7),
        (0, 52.5, -3),
    ]]
    fillet(fillet_4_edges, radius=FILLET_4_R)

    # 圆角5
    fillet_5_edges = [part.edges().sort_by_distance(p)[0] for p in [
        (1.95, 55, 0),
        (0, 55, -1.95),
        (0, 55, 1.95),
        (-1.95, 55, 0),
    ]]
    fillet(fillet_5_edges, radius=FILLET_5_R)


with BuildPart() as mirror_1_1:
    # 镜向1: 凸台-拉伸1, 凸台-拉伸2, 凸台-拉伸3 across Top Plane
    add(extrude_1.mirror(Plane(origin=(0, 0, 0), x_dir=(1, 0, 0), z_dir=(0, 1, 0))))
    add(extrude_2.mirror(Plane(origin=(0, 0, 0), x_dir=(1, 0, 0), z_dir=(0, 1, 0))))
    add(extrude_3.mirror(Plane(origin=(0, 0, 0), x_dir=(1, 0, 0), z_dir=(0, 1, 0))))

    # Mirror 1 2: 切除-拉伸1 across Top Plane
    add(cut_extrude_1.mirror(Plane(origin=(0, 0, 0), x_dir=(1, 0, 0), z_dir=(0, 1, 0))), mode=Mode.SUBTRACT)

    # 圆角3 of 镜向1
    fillet_3_of_mirror_1_edges = [mirror_1_1.edges().sort_by_distance(p)[0] for p in [
        (-7.5, -25.25, -7.5),
        (-1.5, -25.25, -7.5),
        (1.5, -25.25, -7.5),
        (7.5, -25.25, -7.5),
        (7.5, -25.25, -1.5),
        (7.5, -25.25, 1.5),
        (7.5, -25.25, 7.5),
        (1.5, -25.25, 7.5),
        (-1.5, -25.25, 7.5),
        (-7.5, -25.25, 7.5),
        (-7.5, -25.25, 1.5),
        (-6.822875656, -25.25, -1.5),
        (-7.5, -25.25, -1.5),
    ]]
    fillet(fillet_3_of_mirror_1_edges, radius=FILLET_3_OF_MIRROR_1_R)

    # 圆角4 of 镜向1
    fillet_4_of_mirror_1_edges = [mirror_1_1.edges().sort_by_distance(p)[0] for p in [
        (-2, -51.5, -7),
        (-7, -51.5, -7),
        (-7, -51.5, -2),
        (-7, -51.5, 2),
        (-7, -51.5, 7),
        (-2, -51.5, 7),
        (2, -51.5, 7),
        (7, -51.5, 7),
        (7, -51.5, 2),
        (7, -51.5, -2),
        (7, -51.5, -7),
        (2, -51.5, -7),
        (-4.5, -52.5, -7),
        (-7, -52.5, -4.5),
        (-3, -52.5, 0),
        (-7, -52.5, 4.5),
        (-4.5, -52.5, 7),
        (0, -52.5, 3),
        (4.5, -52.5, 7),
        (7, -52.5, 4.5),
        (3, -52.5, 0),
        (7, -52.5, -4.5),
        (4.5, -52.5, -7),
        (0, -52.5, -3),
    ]]
    fillet(fillet_4_of_mirror_1_edges, radius=FILLET_4_OF_MIRROR_1_R)

    # 圆角5 of 镜向1
    fillet_5_of_mirror_1_edges = [mirror_1_1.edges().sort_by_distance(p)[0] for p in [
        (1.95, -55, 0),
        (0, -55, -1.95),
        (0, -55, 1.95),
        (-1.95, -55, 0),
    ]]
    fillet(fillet_5_of_mirror_1_edges, radius=FILLET_5_OF_MIRROR_1_R)


with BuildPart() as part_1:
    add(part.part)

    # 镜向1 united with what the copies tou: union 镜向1_1
    add(mirror_1_1.part)


solid = part_1.part
